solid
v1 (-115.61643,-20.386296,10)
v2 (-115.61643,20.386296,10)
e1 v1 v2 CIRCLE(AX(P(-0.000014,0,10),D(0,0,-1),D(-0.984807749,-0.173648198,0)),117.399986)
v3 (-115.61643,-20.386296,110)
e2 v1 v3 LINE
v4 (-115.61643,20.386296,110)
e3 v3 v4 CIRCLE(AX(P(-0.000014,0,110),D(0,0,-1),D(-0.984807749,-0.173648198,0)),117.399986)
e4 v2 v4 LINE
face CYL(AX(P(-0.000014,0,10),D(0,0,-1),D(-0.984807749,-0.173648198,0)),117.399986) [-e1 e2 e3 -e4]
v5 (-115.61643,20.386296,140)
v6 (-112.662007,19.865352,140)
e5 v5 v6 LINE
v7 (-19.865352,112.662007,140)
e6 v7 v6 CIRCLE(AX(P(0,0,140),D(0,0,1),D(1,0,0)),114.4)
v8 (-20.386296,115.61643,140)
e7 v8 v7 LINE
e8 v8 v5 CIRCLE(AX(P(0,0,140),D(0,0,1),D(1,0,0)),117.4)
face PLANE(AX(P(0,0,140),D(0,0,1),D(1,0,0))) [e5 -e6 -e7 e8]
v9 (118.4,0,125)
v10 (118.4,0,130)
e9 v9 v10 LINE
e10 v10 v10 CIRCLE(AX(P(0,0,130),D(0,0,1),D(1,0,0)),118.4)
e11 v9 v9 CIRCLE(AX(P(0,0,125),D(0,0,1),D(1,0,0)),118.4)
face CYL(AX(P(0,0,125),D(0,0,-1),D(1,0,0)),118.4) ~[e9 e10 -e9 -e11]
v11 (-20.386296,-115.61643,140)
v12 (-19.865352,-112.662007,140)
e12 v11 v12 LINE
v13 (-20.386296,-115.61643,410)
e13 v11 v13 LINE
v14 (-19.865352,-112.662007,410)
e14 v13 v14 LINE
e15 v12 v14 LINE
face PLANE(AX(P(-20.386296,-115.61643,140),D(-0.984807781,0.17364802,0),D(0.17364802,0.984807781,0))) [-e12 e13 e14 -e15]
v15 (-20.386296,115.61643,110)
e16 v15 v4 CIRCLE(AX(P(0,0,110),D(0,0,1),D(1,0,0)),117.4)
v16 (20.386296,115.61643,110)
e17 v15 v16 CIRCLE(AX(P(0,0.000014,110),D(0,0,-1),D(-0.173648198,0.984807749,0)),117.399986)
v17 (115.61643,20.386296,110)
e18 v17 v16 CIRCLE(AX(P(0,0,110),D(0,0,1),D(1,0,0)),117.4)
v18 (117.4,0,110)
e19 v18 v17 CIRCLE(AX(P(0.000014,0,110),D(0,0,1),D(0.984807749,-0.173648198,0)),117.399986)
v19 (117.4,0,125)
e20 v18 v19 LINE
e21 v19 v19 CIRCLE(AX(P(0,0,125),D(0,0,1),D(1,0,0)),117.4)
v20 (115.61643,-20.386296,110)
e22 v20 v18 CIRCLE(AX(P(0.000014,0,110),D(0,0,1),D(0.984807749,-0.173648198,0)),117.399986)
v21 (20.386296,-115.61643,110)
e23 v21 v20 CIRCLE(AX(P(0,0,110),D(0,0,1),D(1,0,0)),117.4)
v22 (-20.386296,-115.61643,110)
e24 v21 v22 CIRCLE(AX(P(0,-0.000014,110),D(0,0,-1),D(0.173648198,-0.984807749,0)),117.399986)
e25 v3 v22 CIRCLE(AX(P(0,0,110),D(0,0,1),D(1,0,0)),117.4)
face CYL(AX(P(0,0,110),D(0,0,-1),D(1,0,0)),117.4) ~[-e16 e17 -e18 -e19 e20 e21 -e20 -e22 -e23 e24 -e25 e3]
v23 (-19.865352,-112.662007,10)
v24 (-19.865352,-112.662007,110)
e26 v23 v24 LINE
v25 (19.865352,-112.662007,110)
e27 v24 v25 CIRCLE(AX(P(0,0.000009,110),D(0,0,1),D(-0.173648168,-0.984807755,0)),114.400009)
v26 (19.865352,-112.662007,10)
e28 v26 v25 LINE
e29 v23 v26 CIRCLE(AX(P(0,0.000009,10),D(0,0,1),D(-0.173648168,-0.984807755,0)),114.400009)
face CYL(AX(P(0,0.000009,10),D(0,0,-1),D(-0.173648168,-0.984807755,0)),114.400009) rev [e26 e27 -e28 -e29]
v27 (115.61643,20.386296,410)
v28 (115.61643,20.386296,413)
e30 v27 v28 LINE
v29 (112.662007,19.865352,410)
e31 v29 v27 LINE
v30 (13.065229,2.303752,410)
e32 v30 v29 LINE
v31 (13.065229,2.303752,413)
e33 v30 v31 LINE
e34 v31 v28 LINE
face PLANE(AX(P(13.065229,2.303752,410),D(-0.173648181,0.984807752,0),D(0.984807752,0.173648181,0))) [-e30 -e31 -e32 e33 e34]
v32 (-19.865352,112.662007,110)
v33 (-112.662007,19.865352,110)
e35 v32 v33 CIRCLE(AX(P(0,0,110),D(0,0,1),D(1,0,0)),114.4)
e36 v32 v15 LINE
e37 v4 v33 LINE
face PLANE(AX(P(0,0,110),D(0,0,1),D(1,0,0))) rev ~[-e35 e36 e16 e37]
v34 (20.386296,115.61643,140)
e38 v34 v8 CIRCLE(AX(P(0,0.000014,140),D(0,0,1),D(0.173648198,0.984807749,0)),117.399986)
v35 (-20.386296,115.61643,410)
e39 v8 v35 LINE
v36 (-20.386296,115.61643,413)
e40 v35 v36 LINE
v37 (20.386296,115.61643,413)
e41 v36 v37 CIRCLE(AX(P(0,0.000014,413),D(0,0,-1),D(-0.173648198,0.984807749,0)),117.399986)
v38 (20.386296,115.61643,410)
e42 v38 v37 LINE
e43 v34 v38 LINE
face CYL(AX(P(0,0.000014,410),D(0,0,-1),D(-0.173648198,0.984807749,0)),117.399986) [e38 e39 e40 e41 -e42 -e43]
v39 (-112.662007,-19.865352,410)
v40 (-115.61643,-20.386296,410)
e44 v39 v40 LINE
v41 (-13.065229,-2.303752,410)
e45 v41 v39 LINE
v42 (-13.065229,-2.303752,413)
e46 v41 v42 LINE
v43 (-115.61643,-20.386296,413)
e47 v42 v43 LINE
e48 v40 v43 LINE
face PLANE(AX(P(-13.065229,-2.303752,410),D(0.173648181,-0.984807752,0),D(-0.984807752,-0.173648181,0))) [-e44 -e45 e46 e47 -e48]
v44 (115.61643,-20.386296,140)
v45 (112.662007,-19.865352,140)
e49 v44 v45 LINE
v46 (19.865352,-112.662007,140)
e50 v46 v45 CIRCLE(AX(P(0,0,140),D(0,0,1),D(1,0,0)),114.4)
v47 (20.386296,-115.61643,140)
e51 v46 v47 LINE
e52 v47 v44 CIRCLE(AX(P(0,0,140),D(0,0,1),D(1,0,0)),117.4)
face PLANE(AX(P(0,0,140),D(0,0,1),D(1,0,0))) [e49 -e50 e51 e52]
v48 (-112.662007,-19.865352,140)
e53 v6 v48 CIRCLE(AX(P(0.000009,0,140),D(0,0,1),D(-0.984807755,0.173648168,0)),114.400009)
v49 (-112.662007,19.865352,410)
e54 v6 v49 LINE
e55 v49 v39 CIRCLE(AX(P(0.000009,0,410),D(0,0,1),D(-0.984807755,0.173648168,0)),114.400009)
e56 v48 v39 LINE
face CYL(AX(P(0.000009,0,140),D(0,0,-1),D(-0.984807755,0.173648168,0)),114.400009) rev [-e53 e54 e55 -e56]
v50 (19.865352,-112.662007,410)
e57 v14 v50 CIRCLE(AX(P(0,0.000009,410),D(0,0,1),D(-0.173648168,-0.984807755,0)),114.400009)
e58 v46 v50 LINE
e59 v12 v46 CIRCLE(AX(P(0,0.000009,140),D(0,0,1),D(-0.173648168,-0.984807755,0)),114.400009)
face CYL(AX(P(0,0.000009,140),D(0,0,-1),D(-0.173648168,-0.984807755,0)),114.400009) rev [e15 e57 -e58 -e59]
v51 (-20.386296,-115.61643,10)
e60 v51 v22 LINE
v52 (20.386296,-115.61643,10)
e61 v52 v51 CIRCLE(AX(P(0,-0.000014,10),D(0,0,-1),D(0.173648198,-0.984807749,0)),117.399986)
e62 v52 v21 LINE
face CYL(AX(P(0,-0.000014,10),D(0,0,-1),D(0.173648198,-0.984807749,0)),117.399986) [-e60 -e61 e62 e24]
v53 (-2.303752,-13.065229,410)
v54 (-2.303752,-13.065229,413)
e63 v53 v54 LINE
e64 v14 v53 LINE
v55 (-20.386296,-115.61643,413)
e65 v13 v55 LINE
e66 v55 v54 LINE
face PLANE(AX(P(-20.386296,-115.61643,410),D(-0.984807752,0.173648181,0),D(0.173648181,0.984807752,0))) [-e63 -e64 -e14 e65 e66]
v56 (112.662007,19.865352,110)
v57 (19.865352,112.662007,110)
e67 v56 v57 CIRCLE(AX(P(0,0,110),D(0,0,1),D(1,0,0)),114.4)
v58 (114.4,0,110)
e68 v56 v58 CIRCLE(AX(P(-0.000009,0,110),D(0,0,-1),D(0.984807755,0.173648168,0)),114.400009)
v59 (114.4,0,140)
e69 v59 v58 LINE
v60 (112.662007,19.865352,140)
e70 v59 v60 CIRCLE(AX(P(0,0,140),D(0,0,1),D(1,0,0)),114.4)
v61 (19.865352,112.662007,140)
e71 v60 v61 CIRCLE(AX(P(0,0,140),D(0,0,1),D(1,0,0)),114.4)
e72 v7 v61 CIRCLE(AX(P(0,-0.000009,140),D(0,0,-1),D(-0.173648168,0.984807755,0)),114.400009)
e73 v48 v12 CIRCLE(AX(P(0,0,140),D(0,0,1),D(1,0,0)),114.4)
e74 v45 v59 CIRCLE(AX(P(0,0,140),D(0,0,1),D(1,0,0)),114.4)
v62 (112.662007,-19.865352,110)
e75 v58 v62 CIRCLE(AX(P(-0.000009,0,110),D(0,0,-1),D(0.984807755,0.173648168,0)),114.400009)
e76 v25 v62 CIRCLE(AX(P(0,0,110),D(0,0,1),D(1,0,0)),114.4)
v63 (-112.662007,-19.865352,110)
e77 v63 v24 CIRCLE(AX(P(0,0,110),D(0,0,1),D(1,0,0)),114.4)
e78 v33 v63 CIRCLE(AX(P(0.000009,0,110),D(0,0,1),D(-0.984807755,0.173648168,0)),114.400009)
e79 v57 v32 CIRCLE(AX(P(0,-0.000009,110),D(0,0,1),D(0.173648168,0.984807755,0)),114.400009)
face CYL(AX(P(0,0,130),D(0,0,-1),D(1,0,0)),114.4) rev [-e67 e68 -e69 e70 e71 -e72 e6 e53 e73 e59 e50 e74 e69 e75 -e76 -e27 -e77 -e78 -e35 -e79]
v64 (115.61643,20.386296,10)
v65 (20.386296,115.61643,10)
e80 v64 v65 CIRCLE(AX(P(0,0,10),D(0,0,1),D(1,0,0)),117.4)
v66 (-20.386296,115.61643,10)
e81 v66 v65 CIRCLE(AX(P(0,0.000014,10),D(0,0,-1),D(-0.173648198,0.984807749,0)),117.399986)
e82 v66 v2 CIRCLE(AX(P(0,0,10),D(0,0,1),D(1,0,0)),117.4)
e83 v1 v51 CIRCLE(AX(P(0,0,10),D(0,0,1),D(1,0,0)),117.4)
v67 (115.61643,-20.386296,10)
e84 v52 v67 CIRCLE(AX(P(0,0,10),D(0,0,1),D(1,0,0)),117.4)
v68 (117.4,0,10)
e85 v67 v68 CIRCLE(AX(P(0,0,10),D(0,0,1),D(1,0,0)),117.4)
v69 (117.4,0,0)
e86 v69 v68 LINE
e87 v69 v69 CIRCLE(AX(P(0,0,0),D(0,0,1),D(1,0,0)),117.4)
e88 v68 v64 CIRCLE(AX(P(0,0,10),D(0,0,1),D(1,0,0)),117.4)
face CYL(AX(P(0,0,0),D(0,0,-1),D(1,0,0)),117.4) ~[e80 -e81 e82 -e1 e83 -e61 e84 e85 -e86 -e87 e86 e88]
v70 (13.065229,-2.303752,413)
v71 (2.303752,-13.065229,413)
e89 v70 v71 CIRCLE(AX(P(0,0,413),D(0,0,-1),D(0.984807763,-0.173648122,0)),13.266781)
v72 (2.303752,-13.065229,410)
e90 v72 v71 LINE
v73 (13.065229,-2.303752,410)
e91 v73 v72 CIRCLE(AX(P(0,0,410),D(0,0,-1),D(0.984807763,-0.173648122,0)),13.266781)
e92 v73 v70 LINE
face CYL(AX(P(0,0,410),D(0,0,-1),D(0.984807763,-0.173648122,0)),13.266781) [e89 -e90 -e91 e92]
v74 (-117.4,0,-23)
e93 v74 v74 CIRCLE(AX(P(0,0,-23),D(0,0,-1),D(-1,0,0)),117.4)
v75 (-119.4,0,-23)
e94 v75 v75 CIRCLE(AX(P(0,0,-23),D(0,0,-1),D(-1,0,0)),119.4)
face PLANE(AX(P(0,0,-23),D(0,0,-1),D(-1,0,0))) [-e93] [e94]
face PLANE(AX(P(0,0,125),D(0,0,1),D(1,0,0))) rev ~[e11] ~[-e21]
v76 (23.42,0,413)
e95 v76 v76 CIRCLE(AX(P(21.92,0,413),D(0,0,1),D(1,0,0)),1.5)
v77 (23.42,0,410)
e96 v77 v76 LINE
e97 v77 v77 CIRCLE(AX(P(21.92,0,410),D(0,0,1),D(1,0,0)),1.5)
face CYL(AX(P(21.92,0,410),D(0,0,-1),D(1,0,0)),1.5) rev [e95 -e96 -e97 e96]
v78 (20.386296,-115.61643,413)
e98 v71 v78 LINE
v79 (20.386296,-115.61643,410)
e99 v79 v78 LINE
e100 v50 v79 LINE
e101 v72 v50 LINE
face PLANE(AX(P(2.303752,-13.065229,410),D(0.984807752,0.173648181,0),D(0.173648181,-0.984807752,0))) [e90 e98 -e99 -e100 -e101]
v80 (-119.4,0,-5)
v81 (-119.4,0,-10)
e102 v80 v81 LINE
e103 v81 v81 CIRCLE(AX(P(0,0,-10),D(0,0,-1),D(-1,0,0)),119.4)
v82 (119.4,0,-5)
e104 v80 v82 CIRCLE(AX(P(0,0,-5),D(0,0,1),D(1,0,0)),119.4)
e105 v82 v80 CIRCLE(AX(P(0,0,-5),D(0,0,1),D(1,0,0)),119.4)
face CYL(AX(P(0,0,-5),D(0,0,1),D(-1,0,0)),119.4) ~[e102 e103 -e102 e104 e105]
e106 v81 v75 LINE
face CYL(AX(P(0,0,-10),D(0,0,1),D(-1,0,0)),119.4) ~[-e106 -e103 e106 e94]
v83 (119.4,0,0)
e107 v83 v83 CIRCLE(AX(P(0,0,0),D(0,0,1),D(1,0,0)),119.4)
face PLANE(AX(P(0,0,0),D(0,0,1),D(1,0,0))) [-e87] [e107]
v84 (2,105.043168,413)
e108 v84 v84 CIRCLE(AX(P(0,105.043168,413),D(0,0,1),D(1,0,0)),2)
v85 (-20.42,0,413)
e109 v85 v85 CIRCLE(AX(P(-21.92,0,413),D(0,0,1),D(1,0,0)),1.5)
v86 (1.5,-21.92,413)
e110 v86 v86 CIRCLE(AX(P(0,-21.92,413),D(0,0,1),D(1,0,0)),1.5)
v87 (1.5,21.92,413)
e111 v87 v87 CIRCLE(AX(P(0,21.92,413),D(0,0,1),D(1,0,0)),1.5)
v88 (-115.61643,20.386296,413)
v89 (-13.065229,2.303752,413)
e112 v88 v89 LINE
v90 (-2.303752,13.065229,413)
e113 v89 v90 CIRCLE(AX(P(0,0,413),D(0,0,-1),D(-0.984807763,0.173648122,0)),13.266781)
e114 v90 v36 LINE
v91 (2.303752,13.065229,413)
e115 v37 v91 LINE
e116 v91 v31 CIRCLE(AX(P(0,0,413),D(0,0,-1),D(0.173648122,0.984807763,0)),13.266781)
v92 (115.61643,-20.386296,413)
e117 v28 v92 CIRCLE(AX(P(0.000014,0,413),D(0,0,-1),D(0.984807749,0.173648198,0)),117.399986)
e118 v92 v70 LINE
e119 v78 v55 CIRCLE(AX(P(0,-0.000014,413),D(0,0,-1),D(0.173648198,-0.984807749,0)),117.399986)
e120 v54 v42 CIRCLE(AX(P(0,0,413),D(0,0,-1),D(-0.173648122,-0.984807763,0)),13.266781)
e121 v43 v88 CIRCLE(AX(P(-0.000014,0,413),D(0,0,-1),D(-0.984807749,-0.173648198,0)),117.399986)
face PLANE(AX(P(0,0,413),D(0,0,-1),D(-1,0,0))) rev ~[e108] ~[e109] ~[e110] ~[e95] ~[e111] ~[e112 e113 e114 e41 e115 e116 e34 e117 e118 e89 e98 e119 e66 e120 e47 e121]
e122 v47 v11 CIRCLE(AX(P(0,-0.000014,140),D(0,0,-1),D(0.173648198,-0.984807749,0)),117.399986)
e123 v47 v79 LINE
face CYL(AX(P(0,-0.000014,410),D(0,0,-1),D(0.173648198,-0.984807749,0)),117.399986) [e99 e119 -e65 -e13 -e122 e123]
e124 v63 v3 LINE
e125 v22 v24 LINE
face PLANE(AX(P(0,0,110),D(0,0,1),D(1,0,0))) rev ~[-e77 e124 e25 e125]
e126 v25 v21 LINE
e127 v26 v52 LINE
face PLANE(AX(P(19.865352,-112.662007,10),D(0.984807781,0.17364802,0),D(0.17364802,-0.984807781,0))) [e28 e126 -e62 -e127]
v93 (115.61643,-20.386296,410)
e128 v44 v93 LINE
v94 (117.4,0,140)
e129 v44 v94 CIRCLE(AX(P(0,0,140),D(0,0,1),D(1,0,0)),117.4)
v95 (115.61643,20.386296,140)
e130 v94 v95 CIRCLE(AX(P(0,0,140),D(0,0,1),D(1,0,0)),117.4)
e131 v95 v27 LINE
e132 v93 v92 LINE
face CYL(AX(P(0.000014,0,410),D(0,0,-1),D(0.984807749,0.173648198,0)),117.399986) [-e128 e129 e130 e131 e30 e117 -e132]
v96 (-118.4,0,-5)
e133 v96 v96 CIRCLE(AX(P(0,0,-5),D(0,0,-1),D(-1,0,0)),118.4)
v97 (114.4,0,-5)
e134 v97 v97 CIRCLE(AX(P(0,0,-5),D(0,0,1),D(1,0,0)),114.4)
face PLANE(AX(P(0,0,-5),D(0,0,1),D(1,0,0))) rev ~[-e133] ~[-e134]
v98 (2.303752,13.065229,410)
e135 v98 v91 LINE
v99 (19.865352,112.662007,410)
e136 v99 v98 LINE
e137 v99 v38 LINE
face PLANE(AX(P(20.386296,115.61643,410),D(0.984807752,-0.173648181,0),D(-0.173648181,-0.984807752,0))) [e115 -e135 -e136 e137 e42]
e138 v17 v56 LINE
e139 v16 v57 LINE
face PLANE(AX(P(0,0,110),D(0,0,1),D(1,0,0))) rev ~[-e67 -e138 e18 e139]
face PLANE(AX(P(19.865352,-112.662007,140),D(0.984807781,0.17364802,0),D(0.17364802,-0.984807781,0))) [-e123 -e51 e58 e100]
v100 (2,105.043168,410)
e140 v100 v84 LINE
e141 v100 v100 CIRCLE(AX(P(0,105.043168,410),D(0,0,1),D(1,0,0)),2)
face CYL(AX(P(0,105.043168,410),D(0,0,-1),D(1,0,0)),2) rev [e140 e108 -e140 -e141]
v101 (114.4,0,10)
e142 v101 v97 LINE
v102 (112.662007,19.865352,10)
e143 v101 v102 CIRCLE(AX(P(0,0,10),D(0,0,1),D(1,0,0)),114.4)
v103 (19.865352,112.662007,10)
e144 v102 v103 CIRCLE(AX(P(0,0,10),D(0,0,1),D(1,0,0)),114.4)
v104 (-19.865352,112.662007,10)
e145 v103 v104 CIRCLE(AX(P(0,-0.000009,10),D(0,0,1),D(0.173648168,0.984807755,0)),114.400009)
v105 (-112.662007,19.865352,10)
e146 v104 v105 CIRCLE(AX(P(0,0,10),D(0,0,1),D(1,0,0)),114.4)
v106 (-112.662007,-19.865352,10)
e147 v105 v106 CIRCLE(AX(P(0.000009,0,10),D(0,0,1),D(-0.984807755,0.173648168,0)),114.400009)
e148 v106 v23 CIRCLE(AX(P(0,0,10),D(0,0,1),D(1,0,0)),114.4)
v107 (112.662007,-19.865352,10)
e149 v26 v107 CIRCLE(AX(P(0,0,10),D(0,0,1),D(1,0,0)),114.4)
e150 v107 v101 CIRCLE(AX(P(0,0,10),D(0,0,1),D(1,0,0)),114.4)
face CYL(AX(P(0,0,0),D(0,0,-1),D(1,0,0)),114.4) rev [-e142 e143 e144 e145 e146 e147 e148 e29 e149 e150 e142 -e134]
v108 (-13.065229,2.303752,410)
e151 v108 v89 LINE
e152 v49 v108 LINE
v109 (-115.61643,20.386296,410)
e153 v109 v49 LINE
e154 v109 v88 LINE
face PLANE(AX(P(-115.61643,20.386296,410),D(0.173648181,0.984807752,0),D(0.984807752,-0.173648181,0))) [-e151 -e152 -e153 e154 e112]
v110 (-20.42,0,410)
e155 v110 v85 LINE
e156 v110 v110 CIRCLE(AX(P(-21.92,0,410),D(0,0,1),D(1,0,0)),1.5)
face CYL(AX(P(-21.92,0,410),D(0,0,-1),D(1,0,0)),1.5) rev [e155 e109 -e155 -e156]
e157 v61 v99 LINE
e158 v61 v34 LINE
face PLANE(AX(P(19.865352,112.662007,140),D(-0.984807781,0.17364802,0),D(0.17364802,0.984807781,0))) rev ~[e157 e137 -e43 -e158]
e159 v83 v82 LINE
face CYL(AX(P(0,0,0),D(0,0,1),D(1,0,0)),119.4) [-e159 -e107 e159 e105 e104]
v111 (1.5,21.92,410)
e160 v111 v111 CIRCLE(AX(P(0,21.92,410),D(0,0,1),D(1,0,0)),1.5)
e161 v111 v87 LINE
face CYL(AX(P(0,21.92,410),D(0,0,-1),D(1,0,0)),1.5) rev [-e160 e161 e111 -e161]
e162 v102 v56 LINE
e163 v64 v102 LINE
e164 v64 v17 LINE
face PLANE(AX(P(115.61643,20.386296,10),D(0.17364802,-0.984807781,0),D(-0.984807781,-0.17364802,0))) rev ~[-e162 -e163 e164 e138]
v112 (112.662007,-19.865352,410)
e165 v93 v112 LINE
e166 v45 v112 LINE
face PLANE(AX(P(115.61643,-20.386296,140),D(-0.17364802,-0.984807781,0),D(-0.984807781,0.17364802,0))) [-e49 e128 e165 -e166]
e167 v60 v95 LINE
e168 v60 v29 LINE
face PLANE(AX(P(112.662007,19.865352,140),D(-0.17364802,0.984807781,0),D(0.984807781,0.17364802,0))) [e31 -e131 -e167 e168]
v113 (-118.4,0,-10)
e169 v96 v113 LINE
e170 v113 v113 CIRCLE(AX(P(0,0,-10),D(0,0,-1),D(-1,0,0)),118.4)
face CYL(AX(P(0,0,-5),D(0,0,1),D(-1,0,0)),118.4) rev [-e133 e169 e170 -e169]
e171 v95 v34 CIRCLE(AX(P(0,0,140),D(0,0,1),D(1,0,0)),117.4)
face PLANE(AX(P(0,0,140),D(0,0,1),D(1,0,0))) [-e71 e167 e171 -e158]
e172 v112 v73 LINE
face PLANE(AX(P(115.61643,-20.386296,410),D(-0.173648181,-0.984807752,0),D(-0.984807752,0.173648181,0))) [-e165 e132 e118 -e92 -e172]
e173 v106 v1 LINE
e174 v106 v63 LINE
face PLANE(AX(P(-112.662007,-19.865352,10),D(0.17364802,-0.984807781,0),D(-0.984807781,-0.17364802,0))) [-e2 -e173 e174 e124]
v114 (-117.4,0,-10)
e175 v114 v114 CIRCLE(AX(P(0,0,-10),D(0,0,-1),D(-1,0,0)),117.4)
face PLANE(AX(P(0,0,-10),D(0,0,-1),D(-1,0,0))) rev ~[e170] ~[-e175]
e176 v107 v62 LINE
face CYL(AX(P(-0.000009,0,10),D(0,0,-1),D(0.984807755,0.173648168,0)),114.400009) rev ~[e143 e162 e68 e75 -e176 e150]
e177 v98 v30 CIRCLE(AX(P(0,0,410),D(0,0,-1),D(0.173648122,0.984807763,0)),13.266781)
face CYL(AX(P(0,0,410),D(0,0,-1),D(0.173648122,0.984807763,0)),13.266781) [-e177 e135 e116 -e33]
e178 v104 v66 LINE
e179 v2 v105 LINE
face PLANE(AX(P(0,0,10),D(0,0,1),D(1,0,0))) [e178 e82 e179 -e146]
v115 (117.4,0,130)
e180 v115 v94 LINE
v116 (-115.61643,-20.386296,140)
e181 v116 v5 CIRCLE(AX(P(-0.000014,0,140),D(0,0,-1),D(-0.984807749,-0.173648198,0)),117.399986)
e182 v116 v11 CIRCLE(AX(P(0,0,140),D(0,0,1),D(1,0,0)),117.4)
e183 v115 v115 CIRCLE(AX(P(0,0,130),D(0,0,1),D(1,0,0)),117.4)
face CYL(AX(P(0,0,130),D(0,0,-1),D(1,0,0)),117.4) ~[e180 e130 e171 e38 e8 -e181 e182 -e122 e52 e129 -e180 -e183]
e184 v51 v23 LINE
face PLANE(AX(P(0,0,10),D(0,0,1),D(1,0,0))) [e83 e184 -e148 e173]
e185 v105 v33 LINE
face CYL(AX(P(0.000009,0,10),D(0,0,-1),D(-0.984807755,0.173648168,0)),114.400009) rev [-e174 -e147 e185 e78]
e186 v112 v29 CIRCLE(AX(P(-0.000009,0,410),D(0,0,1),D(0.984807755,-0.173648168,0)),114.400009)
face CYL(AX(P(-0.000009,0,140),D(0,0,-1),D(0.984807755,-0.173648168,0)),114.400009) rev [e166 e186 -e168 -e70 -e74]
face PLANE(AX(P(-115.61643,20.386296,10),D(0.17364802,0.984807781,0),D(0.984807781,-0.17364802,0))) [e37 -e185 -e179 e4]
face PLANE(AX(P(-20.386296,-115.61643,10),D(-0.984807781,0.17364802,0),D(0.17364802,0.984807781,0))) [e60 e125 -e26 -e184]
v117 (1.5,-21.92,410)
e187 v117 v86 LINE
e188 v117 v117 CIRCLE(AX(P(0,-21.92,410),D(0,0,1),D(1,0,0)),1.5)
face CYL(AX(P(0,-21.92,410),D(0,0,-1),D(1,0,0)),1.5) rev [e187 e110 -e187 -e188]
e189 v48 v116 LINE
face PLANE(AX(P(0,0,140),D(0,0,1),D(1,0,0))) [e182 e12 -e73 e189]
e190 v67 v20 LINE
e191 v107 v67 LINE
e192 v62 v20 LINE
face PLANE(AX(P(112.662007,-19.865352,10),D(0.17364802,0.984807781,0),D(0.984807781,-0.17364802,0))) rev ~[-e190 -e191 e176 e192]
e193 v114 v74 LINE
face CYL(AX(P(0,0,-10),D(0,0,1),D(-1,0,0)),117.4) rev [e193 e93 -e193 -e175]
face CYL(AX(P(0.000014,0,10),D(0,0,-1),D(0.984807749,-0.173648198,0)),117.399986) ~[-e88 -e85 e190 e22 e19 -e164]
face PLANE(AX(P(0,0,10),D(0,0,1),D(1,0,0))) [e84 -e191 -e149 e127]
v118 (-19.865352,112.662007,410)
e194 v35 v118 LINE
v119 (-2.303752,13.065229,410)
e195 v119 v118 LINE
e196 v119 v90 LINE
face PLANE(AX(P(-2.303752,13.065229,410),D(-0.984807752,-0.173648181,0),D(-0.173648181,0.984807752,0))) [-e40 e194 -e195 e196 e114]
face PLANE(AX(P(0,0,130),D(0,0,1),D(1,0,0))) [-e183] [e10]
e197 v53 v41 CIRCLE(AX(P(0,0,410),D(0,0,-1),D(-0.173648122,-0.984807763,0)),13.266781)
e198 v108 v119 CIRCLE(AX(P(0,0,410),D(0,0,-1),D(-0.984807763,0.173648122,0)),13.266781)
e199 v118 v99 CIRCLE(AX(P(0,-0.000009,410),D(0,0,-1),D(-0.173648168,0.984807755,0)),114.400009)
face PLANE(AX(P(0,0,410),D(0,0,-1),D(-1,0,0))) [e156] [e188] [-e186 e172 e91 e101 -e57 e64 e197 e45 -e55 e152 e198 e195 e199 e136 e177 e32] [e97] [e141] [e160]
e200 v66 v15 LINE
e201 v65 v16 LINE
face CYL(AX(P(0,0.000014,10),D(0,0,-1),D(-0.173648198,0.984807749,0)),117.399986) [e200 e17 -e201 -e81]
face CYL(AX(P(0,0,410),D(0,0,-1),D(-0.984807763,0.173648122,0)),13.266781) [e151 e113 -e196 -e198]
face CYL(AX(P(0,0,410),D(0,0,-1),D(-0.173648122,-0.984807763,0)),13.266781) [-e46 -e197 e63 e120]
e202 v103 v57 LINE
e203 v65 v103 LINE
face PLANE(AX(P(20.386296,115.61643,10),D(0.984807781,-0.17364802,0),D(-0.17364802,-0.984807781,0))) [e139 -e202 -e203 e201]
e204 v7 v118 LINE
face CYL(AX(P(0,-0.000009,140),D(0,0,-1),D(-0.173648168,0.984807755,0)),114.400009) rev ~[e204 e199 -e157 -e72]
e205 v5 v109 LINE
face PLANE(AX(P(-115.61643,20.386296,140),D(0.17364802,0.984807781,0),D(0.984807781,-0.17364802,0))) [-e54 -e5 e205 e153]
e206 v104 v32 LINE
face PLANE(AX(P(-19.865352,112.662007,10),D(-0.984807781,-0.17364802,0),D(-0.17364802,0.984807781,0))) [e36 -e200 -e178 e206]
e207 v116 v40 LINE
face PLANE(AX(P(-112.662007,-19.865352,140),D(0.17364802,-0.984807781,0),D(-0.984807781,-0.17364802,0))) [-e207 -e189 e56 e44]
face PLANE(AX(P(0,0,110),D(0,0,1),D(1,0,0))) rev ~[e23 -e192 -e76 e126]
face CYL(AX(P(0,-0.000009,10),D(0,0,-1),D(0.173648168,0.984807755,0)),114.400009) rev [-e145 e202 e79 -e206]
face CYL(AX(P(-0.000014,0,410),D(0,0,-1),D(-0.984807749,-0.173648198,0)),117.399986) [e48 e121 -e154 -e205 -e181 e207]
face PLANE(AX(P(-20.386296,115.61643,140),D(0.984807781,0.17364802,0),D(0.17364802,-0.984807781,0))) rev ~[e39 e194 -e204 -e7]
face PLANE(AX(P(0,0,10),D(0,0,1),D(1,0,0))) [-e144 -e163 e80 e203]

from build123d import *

# Parameters (mm, degrees)
SKETCH1_R       = 119.4
SKETCH1_R_2     = 114.4
EXTRUDE1_DEPTH  = 5
SKETCH2_R       = 119.4
SKETCH2_R_2     = 118.4
EXTRUDE2_DEPTH  = 5
SKETCH3_R       = 119.4
SKETCH3_R_2     = 117.4
EXTRUDE3_DEPTH  = 13
SKETCH4_R       = 117.4
SKETCH4_R_2     = 114.4
EXTRUDE4_DEPTH  = 10
EXTRUDE5_DEPTH  = 100
SKETCH6_R       = 117.4
SKETCH6_R_2     = 114.4
EXTRUDE7_DEPTH  = 15
SKETCH7_R       = 118.4
SKETCH7_R_2     = 114.4
EXTRUDE8_DEPTH  = 5
SKETCH8_R       = 117.4
SKETCH8_R_2     = 114.4
EXTRUDE9_DEPTH  = 10
EXTRUDE10_DEPTH = 270
SKETCH10_R      = 1.5
SKETCH10_R_2    = 2
EXTRUDE11_DEPTH = 3


with BuildPart() as part:
    # Sketch1 → Extrude1 (new body)
    with BuildSketch(Plane.XY):
        Circle(SKETCH1_R)
        Circle(SKETCH1_R_2, mode=Mode.SUBTRACT)
    extrude(amount=-EXTRUDE1_DEPTH)

    # Sketch2 → Extrude2 (add)
    with BuildSketch(Plane(origin=(0, 0, -5), x_dir=(-1, 0, 0), z_dir=(0, 0, -1))):
        Circle(SKETCH2_R)
        Circle(SKETCH2_R_2, mode=Mode.SUBTRACT)
    extrude(amount=EXTRUDE2_DEPTH)

    # Sketch3 → Extrude3 (add)
    with BuildSketch(Plane(origin=(0, 0, -10), x_dir=(-1, 0, 0), z_dir=(0, 0, -1))):
        Circle(SKETCH3_R)
        Circle(SKETCH3_R_2, mode=Mode.SUBTRACT)
    extrude(amount=EXTRUDE3_DEPTH)

    # Sketch4 → Extrude4 (add)
    with BuildSketch(Plane.XY):
        Circle(SKETCH4_R)
        Circle(SKETCH4_R_2, mode=Mode.SUBTRACT)
    extrude(amount=EXTRUDE4_DEPTH)

    # Sketch5 → Extrude5 (add)
    with BuildSketch(Plane.XY.offset(10)):
        with BuildLine():
            Line((20.386296, 115.61643), (19.865352, 112.662007))
            ThreePointArc((19.865352, 112.662007), (0, 114.4), (-19.865352, 112.662007))
            Line((-19.865352, 112.662007), (-20.386296, 115.61643))
            ThreePointArc((-20.386296, 115.61643), (0, 117.4), (20.386296, 115.61643))
        make_face()
        with BuildLine():
            Line((115.61643, 20.386296), (112.662007, 19.865352))
            ThreePointArc((112.662007, 19.865352), (114.4, 0), (112.662007, -19.865352))
            Line((112.662007, -19.865352), (115.61643, -20.386296))
            ThreePointArc((115.61643, -20.386296), (117.4, 0), (115.61643, 20.386296))
        make_face()
        with BuildLine():
            Line((19.865352, -112.662007), (20.386296, -115.61643))
            ThreePointArc((20.386296, -115.61643), (0, -117.4), (-20.386296, -115.61643))
            Line((-20.386296, -115.61643), (-19.865352, -112.662007))
            ThreePointArc((-19.865352, -112.662007), (0, -114.4), (19.865352, -112.662007))
        make_face()
        with BuildLine():
            Line((-112.662007, -19.865352), (-115.61643, -20.386296))
            ThreePointArc((-115.61643, -20.386296), (-117.4, 0), (-115.61643, 20.386296))
            Line((-115.61643, 20.386296), (-112.662007, 19.865352))
            ThreePointArc((-112.662007, 19.865352), (-114.4, 0), (-112.662007, -19.865352))
        make_face()
    extrude(amount=EXTRUDE5_DEPTH)

    # Sketch6 → Extrude7 (add)
    with BuildSketch(Plane.XY.offset(110)):
        Circle(SKETCH6_R)
        Circle(SKETCH6_R_2, mode=Mode.SUBTRACT)
    extrude(amount=EXTRUDE7_DEPTH)

    # Sketch7 → Extrude8 (add)
    with BuildSketch(Plane.XY.offset(125)):
        Circle(SKETCH7_R)
        Circle(SKETCH7_R_2, mode=Mode.SUBTRACT)
    extrude(amount=EXTRUDE8_DEPTH)

    # Sketch8 → Extrude9 (add)
    with BuildSketch(Plane.XY.offset(130)):
        Circle(SKETCH8_R)
        Circle(SKETCH8_R_2, mode=Mode.SUBTRACT)
    extrude(amount=EXTRUDE9_DEPTH)

    # Sketch9 → Extrude10 (add)
    with BuildSketch(Plane.XY.offset(140)):
        with BuildLine():
            Line((-20.386296, 115.61643), (-19.865352, 112.662007))
            ThreePointArc((-19.865352, 112.662007), (0, 114.4), (19.865352, 112.662007))
            Line((19.865352, 112.662007), (20.386296, 115.61643))
            ThreePointArc((20.386296, 115.61643), (0, 117.4), (-20.386296, 115.61643))
        make_face()
        with BuildLine():
            Line((112.662007, 19.865352), (115.61643, 20.386296))
            ThreePointArc((115.61643, 20.386296), (117.4, 0), (115.61643, -20.386296))
            Line((115.61643, -20.386296), (112.662007, -19.865352))
            ThreePointArc((112.662007, -19.865352), (114.4, 0), (112.662007, 19.865352))
        make_face()
        with BuildLine():
            Line((19.865352, -112.662007), (20.386296, -115.61643))
            ThreePointArc((20.386296, -115.61643), (0, -117.4), (-20.386296, -115.61643))
            Line((-20.386296, -115.61643), (-19.865352, -112.662007))
            ThreePointArc((-19.865352, -112.662007), (0, -114.4), (19.865352, -112.662007))
        make_face()
        with BuildLine():
            Line((-112.662007, -19.865352), (-115.61643, -20.386296))
            ThreePointArc((-115.61643, -20.386296), (-117.4, 0), (-115.61643, 20.386296))
            Line((-115.61643, 20.386296), (-112.662007, 19.865352))
            ThreePointArc((-112.662007, 19.865352), (-114.4, 0), (-112.662007, -19.865352))
        make_face()
    extrude(amount=EXTRUDE10_DEPTH)

    # Sketch10 → Extrude11 (add)
    with BuildSketch(Plane.XY.offset(410)):
        with BuildLine():
            Line((13.065229, 2.303752), (115.61643, 20.386296))
            ThreePointArc((115.61643, 20.386296), (117.4, 0), (115.61643, -20.386296))
            Line((115.61643, -20.386296), (13.065229, -2.303752))
            ThreePointArc((13.065229, -2.303752), (9.381031, -9.381031), (2.303752, -13.065229))
            Line((2.303752, -13.065229), (20.386296, -115.61643))
            ThreePointArc((20.386296, -115.61643), (0, -117.4), (-20.386296, -115.61643))
            Line((-20.386296, -115.61643), (-2.303752, -13.065229))
            ThreePointArc((-2.303752, -13.065229), (-9.381031, -9.381031), (-13.065229, -2.303752))
            Line((-13.065229, -2.303752), (-115.61643, -20.386296))
            ThreePointArc((-115.61643, -20.386296), (-117.4, 0), (-115.61643, 20.386296))
            Line((-115.61643, 20.386296), (-13.065229, 2.303752))
            ThreePointArc((-13.065229, 2.303752), (-9.381031, 9.381031), (-2.303752, 13.065229))
            Line((-2.303752, 13.065229), (-20.386296, 115.61643))
            ThreePointArc((-20.386296, 115.61643), (0, 117.4), (20.386296, 115.61643))
            Line((20.386296, 115.61643), (2.303752, 13.065229))
            ThreePointArc((2.303752, 13.065229), (9.381031, 9.381031), (13.065229, 2.303752))
        make_face()
        with Locations((21.92, 0)):
            Circle(SKETCH10_R, mode=Mode.SUBTRACT)
        with Locations((0, -21.92)):
            Circle(SKETCH10_R, mode=Mode.SUBTRACT)
        with Locations((-21.92, 0)):
            Circle(SKETCH10_R, mode=Mode.SUBTRACT)
        with Locations((0, 21.92)):
            Circle(SKETCH10_R, mode=Mode.SUBTRACT)
        with Locations((0, 105.043168)):
            Circle(SKETCH10_R_2, mode=Mode.SUBTRACT)
    extrude(amount=EXTRUDE11_DEPTH)


solid = part.part
